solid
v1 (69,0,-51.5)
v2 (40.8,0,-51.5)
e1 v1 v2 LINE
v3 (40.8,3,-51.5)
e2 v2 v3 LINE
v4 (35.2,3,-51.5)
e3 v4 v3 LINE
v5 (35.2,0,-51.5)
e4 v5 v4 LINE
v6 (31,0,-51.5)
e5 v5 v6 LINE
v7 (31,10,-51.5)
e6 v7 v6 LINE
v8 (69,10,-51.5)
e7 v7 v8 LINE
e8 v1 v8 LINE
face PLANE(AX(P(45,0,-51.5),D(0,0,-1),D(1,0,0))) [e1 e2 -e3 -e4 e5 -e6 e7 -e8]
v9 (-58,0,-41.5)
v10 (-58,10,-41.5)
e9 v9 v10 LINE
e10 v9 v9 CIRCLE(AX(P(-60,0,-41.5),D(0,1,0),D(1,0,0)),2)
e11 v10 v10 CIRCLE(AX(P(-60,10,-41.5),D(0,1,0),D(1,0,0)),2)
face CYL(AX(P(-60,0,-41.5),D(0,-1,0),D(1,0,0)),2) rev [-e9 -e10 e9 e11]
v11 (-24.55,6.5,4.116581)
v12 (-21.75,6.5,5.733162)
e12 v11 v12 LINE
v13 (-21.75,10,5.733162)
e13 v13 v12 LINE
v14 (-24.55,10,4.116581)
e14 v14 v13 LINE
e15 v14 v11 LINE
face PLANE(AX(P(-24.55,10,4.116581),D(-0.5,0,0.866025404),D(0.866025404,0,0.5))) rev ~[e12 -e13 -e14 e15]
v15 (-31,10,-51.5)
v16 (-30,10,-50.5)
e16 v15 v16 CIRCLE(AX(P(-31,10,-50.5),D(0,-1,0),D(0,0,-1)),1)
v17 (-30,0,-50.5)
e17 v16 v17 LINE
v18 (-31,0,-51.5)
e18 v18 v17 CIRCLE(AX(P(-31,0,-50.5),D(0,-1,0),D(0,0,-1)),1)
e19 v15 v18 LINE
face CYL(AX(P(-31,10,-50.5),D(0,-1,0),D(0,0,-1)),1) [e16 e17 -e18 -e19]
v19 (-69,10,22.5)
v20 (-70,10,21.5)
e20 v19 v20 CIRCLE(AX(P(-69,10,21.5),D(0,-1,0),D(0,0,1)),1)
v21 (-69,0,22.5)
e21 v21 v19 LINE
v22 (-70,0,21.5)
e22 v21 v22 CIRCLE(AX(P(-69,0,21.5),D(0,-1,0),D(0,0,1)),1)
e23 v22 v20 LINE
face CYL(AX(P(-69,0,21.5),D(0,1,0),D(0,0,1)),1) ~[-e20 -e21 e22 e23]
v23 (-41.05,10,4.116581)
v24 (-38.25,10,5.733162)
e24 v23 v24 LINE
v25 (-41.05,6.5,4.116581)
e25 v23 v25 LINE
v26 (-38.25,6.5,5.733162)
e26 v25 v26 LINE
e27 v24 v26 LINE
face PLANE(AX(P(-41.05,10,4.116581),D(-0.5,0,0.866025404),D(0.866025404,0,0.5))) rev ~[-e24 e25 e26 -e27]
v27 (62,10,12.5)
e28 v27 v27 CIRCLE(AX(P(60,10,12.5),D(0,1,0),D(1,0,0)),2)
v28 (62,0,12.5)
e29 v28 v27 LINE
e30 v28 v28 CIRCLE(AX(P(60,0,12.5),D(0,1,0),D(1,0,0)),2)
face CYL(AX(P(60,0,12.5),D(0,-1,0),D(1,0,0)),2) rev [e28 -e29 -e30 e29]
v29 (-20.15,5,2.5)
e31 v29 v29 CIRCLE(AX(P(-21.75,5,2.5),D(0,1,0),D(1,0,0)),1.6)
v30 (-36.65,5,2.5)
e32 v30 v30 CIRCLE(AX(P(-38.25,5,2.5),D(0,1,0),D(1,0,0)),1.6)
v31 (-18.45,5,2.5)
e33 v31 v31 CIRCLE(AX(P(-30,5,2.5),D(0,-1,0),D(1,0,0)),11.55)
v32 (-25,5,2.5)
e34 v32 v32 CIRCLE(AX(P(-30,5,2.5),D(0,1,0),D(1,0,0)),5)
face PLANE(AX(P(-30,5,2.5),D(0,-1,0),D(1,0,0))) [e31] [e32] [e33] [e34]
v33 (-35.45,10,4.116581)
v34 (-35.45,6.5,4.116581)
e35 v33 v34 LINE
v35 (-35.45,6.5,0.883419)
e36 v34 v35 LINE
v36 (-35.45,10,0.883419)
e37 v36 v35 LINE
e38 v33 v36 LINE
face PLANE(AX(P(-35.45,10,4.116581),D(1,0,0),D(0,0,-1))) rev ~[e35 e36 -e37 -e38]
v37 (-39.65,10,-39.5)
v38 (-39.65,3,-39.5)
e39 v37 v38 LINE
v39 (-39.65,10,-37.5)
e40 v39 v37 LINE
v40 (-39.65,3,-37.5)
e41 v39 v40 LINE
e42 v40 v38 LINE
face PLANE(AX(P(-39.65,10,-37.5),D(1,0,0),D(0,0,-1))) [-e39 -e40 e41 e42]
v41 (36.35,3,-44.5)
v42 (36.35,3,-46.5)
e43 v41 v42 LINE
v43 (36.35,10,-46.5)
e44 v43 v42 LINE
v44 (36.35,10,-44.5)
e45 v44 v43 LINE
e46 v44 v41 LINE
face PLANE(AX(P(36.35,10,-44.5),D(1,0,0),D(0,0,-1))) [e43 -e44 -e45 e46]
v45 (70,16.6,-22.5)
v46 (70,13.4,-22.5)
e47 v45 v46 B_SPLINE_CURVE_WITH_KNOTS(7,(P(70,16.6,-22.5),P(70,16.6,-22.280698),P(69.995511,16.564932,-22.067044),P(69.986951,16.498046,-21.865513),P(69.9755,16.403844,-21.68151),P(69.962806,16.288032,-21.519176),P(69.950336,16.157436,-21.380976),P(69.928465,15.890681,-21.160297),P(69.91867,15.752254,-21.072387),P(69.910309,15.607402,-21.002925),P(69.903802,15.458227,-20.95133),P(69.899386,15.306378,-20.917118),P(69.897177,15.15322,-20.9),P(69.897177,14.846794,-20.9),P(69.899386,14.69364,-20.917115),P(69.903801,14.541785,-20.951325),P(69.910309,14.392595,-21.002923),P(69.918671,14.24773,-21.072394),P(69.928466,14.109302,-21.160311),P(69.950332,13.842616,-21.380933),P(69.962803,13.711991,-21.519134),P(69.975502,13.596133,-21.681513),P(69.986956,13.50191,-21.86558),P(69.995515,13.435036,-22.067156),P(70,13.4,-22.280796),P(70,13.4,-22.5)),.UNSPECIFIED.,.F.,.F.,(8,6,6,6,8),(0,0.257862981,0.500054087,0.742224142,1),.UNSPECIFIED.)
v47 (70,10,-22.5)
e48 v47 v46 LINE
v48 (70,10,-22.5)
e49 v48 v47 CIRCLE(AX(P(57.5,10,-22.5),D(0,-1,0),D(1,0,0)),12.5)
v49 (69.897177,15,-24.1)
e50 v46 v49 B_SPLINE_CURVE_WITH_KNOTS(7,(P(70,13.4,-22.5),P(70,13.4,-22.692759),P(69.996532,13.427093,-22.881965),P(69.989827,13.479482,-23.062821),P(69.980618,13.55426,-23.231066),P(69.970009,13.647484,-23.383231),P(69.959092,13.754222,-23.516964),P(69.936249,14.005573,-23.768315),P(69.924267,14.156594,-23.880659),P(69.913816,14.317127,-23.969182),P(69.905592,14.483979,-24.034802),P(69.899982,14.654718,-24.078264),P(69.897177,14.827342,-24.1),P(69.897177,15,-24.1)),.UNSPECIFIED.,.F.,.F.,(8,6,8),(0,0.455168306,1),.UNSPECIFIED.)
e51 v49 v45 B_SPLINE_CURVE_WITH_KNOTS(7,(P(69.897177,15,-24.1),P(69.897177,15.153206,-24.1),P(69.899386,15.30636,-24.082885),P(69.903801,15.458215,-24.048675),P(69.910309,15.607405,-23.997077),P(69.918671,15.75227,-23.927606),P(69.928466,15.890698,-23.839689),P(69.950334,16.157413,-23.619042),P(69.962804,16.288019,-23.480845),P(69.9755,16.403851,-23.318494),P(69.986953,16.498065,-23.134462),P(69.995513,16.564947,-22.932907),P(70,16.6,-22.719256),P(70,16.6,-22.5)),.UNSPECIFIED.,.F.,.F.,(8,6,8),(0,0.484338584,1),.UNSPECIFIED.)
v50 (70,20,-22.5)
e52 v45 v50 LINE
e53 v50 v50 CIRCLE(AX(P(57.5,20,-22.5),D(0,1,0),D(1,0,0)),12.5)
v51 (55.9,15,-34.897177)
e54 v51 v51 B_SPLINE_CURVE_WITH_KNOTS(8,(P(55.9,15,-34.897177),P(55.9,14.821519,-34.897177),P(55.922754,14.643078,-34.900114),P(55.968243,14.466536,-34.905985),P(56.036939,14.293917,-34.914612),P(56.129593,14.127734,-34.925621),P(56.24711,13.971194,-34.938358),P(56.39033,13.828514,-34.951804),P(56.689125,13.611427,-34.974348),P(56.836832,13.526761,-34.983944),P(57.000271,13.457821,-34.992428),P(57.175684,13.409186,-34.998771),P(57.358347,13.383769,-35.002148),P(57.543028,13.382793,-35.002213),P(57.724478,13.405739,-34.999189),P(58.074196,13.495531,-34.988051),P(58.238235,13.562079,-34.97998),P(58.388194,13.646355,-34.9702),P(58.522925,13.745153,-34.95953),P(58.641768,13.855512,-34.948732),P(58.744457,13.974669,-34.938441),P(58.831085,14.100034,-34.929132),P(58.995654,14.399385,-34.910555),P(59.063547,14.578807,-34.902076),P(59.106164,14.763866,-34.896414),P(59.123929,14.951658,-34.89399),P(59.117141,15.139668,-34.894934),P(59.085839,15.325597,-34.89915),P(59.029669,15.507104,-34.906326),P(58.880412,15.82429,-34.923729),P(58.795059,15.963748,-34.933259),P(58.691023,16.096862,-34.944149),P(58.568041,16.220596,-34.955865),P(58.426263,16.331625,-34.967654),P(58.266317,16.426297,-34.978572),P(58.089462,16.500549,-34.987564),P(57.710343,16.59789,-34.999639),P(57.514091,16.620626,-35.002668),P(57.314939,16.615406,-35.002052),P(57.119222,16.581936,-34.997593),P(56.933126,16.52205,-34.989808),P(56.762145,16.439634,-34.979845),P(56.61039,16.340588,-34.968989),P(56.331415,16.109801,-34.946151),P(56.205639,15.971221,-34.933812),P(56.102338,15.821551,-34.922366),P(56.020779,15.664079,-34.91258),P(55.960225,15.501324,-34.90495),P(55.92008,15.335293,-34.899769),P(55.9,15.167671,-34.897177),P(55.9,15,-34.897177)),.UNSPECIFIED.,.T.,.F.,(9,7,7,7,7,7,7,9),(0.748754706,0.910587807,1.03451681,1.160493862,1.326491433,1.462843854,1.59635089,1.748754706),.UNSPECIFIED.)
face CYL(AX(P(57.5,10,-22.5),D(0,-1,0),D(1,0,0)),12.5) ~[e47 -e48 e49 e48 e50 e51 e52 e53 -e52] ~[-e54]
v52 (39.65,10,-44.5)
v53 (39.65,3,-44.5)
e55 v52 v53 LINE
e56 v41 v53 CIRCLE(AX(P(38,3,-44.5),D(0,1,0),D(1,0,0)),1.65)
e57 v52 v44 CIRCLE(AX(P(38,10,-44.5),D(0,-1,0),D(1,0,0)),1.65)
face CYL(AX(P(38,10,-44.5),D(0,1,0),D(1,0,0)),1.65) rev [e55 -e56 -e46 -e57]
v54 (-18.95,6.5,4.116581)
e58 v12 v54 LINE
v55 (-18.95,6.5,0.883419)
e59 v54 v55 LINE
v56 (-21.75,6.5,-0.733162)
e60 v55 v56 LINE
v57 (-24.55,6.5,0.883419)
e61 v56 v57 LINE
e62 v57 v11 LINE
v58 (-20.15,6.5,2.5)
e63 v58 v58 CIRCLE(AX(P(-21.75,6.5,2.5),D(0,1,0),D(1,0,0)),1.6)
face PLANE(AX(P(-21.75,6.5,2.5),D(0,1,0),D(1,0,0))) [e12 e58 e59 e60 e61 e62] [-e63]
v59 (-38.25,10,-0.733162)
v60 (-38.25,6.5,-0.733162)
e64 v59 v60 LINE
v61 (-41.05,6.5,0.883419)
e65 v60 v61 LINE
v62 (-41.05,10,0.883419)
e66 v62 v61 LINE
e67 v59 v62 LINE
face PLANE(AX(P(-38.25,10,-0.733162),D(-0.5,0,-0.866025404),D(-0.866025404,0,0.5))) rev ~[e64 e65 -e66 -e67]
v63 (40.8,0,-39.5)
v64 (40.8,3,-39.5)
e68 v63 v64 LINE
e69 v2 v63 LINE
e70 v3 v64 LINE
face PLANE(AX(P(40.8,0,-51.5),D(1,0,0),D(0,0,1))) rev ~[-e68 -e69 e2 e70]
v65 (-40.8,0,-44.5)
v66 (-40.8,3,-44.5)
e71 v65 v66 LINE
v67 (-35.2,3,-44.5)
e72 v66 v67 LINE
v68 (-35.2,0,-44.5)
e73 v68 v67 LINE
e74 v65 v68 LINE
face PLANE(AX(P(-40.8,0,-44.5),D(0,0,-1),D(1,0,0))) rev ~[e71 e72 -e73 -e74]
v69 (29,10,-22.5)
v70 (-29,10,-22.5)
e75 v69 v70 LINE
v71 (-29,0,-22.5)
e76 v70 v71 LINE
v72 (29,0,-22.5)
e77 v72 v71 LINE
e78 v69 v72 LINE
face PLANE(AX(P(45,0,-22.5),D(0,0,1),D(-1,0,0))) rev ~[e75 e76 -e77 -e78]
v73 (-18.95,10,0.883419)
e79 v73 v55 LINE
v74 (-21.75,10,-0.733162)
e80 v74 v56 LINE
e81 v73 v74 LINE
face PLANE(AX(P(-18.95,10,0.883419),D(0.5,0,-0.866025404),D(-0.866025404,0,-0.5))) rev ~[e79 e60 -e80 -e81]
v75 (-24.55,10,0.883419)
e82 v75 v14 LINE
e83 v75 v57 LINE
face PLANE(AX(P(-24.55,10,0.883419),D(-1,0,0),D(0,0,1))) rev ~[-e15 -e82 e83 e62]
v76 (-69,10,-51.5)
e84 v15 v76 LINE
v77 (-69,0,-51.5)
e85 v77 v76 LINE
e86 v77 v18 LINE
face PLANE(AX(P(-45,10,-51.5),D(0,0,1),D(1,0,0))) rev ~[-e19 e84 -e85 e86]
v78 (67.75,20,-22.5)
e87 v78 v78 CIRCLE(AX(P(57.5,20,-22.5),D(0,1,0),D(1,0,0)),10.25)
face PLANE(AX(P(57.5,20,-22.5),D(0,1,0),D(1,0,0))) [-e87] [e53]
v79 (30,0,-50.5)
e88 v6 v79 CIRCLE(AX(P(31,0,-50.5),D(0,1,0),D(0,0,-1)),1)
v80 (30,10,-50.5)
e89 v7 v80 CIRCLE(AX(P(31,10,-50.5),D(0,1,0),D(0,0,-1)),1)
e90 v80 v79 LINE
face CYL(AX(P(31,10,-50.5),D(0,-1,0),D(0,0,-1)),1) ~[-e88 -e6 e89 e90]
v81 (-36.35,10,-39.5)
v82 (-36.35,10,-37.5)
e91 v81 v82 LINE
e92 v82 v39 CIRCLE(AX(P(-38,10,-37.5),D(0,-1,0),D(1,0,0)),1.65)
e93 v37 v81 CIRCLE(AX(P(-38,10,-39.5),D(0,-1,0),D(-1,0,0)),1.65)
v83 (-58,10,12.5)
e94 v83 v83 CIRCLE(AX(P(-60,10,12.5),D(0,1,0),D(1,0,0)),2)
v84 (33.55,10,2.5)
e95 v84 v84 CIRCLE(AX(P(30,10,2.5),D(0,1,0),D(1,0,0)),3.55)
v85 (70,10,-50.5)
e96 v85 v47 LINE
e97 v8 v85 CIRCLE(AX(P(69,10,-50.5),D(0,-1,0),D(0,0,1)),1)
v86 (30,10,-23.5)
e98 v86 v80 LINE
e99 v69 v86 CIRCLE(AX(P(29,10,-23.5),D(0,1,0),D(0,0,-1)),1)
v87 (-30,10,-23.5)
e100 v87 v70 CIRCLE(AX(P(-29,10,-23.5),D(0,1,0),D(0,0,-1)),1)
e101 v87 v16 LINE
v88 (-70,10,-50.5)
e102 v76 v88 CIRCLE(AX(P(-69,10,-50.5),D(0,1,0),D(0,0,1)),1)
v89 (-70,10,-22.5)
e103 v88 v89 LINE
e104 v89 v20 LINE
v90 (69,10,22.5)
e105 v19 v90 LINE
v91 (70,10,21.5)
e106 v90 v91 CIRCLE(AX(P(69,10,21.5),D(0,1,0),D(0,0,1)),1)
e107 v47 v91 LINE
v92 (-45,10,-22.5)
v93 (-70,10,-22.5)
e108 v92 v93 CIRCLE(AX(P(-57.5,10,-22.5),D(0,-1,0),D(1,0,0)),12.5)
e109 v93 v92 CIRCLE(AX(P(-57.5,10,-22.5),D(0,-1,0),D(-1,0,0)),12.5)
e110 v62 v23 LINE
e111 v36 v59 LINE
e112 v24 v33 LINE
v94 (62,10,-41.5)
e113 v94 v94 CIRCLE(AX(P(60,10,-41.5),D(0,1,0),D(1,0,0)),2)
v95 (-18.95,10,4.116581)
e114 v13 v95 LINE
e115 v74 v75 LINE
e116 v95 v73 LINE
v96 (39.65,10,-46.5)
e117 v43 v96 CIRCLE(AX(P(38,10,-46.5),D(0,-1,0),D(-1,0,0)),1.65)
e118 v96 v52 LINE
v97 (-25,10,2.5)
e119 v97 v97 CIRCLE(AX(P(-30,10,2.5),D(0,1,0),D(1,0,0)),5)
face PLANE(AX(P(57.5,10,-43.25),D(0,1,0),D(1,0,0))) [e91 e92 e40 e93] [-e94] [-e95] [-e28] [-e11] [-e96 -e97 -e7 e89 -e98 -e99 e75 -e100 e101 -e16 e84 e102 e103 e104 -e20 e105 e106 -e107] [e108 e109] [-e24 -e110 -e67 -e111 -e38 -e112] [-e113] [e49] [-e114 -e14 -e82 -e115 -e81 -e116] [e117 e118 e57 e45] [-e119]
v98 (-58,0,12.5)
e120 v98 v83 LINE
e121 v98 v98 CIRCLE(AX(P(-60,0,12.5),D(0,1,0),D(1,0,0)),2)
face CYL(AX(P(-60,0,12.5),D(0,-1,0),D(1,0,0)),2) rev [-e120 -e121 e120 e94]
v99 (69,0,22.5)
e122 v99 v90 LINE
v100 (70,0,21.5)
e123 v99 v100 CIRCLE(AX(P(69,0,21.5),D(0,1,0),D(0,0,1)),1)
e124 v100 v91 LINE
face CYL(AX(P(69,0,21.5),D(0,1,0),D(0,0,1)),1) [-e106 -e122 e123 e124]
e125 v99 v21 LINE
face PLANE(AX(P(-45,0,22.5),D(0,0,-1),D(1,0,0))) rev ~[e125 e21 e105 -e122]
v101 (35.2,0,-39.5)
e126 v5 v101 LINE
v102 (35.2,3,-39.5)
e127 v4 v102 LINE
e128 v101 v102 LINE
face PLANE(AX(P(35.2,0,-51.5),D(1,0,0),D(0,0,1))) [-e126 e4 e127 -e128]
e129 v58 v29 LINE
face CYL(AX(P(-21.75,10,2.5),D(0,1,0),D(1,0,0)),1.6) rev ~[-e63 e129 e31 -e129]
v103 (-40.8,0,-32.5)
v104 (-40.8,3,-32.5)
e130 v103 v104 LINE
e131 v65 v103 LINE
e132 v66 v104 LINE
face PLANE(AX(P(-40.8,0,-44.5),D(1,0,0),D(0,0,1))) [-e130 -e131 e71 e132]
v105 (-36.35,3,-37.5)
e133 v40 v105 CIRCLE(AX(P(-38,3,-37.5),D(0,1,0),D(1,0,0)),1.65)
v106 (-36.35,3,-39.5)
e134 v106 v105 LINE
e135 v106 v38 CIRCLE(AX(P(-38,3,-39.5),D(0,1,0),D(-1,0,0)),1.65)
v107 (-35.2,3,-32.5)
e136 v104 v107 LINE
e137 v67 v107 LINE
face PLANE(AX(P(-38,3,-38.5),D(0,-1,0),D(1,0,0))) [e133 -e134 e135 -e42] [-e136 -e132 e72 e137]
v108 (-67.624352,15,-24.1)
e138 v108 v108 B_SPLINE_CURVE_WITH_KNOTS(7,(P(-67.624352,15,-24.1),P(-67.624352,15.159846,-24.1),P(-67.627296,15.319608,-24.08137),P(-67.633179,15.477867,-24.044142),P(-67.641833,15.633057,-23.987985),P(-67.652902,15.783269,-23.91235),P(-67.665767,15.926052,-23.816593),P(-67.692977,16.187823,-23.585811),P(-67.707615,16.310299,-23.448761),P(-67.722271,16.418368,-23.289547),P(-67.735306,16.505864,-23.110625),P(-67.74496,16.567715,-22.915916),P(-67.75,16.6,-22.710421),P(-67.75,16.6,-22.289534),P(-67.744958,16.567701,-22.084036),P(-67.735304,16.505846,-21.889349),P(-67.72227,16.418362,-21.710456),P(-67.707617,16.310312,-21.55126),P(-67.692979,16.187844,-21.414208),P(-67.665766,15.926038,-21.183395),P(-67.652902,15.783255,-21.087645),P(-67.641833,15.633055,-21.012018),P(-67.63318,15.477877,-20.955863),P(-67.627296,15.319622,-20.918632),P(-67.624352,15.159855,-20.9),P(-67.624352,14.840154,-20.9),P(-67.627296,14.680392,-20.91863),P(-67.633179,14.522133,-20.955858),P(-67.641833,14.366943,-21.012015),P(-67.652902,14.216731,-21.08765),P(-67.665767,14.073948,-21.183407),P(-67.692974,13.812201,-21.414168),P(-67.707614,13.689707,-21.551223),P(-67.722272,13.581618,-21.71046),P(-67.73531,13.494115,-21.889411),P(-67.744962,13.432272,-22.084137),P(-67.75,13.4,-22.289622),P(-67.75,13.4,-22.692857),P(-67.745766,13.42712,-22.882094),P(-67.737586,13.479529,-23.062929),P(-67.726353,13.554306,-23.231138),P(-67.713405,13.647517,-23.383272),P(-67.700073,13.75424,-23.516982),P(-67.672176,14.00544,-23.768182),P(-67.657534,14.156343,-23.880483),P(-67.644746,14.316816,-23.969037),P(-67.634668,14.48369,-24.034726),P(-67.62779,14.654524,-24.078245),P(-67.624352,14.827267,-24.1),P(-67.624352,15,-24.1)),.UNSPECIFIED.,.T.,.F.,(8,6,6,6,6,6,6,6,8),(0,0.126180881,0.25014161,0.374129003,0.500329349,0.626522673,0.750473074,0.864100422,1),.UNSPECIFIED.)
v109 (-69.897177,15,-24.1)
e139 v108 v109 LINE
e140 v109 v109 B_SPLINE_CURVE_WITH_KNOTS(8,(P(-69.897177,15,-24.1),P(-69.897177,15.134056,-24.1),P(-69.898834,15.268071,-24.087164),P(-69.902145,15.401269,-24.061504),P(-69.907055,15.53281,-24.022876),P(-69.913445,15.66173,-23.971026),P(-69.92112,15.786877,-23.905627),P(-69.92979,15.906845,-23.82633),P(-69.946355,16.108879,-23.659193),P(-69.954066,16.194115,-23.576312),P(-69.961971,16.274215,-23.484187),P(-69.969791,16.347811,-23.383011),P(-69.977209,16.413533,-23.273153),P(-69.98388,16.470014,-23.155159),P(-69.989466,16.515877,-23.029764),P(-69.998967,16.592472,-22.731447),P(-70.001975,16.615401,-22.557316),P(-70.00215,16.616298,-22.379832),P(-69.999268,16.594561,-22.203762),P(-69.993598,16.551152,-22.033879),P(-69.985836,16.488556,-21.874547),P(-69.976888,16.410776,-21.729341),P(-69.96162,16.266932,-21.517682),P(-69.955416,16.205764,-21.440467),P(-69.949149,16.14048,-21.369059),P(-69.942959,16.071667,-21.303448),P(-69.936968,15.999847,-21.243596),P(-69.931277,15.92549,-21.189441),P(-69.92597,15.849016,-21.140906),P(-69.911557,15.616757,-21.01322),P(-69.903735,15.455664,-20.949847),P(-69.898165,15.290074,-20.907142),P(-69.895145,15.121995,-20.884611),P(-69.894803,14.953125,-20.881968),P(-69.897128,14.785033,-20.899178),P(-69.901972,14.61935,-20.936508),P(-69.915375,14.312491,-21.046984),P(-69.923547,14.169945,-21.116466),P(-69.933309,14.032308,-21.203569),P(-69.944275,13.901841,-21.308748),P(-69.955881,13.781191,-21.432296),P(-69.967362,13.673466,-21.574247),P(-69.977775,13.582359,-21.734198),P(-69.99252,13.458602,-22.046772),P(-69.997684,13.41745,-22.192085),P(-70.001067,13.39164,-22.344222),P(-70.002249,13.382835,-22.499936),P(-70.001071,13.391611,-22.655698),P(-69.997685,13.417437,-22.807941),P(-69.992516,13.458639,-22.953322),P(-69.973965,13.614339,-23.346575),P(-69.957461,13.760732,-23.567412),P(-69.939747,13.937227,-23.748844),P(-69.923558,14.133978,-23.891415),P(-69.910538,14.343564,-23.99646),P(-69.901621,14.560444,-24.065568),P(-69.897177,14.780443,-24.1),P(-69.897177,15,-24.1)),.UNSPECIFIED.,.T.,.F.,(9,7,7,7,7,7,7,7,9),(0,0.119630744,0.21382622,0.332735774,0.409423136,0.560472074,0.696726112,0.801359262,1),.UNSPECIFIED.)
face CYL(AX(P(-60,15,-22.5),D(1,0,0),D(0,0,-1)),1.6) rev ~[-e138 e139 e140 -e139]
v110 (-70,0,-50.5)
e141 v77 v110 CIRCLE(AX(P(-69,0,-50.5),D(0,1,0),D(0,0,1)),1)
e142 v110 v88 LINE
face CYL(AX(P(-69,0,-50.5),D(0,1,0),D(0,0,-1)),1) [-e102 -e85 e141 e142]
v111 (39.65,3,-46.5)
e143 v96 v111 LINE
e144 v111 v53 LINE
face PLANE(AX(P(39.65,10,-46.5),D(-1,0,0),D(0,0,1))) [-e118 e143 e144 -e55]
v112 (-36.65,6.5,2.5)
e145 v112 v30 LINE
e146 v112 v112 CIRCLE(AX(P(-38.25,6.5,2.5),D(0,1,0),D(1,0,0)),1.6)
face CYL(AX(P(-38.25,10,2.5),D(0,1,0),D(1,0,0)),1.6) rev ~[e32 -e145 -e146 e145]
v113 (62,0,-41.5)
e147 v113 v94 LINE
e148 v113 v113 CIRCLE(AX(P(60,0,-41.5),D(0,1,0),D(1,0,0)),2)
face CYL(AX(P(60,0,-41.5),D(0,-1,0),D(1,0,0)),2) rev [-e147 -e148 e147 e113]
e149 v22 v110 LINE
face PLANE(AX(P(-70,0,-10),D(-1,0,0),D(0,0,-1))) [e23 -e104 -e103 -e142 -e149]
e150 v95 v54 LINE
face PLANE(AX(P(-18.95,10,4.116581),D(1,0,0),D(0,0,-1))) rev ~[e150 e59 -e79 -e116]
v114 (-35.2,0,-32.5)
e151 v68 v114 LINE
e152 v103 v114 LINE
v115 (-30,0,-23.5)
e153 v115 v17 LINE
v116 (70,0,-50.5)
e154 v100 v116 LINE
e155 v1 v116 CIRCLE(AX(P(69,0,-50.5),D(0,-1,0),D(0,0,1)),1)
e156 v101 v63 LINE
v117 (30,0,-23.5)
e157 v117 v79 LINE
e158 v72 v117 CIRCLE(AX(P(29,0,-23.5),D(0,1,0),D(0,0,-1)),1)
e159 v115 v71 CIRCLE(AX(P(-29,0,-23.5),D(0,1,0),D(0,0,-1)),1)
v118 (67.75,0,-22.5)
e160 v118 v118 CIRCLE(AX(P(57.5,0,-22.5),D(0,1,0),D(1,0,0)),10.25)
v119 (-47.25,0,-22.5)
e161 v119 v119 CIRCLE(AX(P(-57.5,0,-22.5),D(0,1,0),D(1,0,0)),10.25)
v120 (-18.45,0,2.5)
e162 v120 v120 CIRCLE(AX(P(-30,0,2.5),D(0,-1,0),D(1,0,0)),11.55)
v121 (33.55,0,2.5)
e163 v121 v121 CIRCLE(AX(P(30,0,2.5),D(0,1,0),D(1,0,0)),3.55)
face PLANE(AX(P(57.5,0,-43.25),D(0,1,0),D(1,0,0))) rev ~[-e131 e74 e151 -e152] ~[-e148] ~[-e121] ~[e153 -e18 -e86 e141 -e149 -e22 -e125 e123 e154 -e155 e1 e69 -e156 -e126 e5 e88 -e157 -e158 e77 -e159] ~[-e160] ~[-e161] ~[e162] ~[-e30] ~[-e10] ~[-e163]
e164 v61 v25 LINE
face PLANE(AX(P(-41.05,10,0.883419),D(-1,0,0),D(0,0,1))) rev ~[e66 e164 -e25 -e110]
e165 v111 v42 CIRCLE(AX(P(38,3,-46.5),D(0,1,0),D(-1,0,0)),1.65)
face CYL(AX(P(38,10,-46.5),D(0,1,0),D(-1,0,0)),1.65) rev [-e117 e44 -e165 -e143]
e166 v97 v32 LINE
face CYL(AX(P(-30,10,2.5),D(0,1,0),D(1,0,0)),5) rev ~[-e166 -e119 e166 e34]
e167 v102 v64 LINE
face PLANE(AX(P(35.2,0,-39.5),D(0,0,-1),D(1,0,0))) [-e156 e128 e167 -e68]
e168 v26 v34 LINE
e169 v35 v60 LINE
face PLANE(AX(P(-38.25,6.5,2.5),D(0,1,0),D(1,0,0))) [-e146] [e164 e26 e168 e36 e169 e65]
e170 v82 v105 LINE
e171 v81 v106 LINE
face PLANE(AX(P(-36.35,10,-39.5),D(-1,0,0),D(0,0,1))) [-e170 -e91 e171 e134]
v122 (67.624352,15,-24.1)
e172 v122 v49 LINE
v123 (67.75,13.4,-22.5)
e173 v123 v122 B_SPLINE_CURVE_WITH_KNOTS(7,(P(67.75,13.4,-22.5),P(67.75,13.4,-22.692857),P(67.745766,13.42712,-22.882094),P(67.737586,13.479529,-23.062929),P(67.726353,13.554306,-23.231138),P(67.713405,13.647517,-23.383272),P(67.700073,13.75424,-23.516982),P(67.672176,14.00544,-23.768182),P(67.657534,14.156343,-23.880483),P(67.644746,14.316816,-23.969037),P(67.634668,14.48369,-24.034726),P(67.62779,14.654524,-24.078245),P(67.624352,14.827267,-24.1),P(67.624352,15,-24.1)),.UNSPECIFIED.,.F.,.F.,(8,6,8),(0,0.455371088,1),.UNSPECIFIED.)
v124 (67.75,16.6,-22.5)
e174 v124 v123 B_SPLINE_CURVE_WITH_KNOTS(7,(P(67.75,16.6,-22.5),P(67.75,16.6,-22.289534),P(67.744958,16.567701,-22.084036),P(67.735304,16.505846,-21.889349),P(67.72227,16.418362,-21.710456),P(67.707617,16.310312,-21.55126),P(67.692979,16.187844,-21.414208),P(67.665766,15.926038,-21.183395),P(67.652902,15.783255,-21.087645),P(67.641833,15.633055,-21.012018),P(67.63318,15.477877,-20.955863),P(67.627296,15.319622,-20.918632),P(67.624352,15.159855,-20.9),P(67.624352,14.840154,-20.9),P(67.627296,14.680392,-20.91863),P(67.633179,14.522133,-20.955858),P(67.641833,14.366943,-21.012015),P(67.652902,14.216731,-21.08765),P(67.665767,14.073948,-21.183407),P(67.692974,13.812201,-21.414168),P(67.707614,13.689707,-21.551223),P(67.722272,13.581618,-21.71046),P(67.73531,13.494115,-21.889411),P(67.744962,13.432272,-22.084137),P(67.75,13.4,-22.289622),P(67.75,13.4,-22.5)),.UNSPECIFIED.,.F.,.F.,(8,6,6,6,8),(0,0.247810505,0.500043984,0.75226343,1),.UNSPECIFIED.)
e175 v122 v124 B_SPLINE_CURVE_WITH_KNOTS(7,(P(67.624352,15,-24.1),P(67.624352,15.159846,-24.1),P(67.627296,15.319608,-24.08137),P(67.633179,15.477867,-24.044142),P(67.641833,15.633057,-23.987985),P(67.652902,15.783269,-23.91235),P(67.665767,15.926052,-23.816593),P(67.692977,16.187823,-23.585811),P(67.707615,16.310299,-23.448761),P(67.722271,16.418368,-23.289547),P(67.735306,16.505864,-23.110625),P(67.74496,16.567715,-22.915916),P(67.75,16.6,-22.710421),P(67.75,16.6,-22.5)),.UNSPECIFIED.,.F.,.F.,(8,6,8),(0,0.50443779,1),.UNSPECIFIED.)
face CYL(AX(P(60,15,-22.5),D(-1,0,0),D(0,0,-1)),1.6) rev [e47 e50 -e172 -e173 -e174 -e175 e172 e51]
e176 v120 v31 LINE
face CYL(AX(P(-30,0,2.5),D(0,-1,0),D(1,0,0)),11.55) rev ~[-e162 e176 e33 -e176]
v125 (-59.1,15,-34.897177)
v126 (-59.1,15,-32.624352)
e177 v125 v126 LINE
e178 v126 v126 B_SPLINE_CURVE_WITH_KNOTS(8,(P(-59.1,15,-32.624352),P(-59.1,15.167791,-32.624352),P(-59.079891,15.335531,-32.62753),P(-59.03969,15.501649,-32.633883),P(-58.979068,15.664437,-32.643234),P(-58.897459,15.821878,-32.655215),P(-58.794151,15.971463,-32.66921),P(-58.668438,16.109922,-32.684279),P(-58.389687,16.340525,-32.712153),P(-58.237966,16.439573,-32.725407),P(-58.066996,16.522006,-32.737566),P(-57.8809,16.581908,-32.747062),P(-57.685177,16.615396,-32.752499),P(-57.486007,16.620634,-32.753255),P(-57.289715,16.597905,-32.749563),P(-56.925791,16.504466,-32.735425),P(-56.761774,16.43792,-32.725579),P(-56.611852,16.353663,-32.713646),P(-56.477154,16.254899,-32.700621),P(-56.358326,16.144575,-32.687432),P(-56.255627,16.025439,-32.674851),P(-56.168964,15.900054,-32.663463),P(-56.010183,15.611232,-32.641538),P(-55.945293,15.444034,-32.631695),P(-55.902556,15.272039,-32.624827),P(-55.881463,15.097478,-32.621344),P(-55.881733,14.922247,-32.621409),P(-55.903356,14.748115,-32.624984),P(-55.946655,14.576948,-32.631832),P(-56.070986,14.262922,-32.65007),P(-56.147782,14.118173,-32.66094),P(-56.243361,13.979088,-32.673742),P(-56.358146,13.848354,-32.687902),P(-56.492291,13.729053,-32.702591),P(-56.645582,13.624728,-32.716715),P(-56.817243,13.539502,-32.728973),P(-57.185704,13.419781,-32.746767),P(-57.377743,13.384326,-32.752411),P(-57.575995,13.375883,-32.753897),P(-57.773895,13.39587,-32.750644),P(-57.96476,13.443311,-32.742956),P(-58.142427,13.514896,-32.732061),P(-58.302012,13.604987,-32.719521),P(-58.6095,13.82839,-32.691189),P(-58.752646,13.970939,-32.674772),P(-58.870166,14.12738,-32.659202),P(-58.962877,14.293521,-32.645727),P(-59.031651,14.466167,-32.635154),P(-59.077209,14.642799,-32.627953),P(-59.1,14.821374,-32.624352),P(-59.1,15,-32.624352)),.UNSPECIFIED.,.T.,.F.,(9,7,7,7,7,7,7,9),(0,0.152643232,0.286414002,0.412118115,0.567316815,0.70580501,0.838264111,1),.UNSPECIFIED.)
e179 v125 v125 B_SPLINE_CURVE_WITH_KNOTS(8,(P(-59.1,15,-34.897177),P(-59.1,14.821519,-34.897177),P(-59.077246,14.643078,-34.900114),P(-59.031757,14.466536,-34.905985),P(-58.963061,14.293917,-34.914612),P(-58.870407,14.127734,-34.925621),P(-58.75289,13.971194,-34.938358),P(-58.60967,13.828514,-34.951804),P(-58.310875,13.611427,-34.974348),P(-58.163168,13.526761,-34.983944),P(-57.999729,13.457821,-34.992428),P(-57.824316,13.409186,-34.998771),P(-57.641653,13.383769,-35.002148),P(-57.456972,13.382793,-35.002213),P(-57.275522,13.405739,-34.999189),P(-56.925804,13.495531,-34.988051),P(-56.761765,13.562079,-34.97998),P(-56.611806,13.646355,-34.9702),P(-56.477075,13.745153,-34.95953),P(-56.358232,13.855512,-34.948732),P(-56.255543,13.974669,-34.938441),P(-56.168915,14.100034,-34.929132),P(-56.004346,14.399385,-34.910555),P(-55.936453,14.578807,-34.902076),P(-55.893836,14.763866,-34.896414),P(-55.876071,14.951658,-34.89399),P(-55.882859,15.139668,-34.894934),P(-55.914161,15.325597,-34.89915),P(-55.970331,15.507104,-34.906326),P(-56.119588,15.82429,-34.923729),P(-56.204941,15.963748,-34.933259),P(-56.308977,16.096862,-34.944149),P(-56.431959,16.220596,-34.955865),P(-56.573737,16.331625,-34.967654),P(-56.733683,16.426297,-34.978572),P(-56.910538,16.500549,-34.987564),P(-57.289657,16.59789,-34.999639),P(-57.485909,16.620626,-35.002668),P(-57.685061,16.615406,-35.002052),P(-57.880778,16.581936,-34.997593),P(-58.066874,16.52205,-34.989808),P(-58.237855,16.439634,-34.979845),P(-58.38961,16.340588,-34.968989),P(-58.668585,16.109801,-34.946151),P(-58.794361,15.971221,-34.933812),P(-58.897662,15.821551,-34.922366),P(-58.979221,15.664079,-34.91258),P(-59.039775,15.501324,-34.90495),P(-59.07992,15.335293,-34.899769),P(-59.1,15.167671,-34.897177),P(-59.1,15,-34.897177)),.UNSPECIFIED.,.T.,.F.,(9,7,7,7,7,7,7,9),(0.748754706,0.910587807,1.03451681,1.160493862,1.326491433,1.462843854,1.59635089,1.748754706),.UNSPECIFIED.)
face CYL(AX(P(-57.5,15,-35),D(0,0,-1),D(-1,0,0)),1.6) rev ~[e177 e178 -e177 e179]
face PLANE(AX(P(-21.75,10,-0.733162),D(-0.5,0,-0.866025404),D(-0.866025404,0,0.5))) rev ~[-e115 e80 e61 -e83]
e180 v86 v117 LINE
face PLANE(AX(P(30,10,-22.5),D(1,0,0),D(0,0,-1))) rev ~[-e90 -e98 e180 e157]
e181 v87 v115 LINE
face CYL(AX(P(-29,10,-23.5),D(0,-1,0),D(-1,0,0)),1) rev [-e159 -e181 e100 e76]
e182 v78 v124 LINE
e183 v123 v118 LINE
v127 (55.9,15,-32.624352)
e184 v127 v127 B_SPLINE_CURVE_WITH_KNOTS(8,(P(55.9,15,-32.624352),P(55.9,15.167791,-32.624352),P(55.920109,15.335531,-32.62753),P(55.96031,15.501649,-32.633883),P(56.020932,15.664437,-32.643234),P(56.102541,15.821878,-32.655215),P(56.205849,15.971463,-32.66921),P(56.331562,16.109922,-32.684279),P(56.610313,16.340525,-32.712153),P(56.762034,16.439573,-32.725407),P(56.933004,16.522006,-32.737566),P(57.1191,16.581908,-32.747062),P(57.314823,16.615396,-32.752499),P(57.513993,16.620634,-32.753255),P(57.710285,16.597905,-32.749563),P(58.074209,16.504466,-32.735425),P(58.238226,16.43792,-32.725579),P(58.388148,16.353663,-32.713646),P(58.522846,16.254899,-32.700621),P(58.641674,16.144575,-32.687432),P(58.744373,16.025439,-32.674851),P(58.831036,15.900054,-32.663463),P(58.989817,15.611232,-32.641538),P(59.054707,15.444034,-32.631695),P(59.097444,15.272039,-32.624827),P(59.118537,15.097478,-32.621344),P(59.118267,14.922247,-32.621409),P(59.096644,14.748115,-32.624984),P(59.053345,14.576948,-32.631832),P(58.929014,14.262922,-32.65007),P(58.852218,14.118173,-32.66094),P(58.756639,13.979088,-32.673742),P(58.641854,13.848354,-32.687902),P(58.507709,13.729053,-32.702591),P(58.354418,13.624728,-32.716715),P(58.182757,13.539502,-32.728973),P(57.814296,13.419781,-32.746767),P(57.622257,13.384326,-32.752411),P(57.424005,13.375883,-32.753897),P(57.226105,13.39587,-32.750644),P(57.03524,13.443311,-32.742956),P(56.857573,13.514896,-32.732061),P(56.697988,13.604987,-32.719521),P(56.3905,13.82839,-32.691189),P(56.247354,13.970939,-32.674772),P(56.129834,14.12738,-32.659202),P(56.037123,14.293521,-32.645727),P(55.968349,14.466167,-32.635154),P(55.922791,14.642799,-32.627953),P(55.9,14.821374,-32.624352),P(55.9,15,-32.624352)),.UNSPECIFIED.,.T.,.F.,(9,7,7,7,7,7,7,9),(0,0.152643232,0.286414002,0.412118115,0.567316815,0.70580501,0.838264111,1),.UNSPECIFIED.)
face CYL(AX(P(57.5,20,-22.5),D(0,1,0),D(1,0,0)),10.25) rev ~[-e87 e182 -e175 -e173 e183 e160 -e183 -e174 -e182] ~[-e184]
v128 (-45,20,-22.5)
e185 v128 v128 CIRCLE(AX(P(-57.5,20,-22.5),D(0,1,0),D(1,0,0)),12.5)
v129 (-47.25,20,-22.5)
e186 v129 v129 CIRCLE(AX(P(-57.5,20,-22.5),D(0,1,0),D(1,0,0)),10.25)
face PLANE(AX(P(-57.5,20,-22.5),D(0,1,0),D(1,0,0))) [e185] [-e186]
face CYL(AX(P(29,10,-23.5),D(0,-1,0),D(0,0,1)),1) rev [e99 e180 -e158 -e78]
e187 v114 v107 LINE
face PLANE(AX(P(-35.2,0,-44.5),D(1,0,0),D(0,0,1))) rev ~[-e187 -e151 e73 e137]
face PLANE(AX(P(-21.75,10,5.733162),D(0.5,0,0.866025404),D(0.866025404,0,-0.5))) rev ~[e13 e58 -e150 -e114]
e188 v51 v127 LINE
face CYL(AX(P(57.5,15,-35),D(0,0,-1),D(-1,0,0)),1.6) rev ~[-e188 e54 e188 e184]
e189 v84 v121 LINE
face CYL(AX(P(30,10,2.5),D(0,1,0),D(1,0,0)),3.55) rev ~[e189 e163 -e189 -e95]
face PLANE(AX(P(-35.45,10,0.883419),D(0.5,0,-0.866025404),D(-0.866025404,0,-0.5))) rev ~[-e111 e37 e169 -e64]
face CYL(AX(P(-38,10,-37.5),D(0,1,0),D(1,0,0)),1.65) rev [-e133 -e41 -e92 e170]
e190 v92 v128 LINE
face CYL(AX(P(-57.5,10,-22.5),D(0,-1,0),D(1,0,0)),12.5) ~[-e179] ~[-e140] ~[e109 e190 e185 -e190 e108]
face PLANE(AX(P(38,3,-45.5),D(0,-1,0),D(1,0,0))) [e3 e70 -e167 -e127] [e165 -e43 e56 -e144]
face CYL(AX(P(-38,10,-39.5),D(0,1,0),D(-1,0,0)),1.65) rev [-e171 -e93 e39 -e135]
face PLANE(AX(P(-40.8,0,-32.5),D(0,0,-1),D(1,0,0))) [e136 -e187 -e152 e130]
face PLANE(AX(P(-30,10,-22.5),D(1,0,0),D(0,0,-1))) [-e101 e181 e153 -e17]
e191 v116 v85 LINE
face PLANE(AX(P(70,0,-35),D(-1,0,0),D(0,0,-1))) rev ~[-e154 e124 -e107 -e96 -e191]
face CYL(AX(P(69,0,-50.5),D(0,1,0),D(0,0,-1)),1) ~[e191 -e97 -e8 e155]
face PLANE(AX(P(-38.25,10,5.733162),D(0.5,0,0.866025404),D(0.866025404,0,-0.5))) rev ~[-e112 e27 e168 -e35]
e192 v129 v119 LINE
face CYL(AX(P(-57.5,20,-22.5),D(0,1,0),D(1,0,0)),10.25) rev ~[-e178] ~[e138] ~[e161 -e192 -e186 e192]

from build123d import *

# Parameters (mm, degrees)
SALIENTE_EXTRUIR1_DEPTH = 10
CROQUIS3_R              = 5
CROQUIS3_R_2            = 3.55
CROQUIS3_R_3            = 1.6
CORTAR_EXTRUIR1_DEPTH   = 11
CORTAR_EXTRUIR2_DEPTH   = 3.5
CROQUIS5_R              = 11.55
CORTAR_EXTRUIR3_DEPTH   = 5
CROQUIS8_W              = 15
CROQUIS8_H              = 29
SALIENTE_EXTRUIR2_DEPTH = 10
CROQUIS9_W              = 25
CROQUIS9_H              = 25
SALIENTE_EXTRUIR4_DEPTH = 10
CROQUIS13_R             = 12.5
SALIENTE_EXTRUIR5_DEPTH = 10
CROQUIS15_R             = 10.25
CORTAR_EXTRUIR5_DEPTH   = 20
CROQUIS16_R             = 1.6
CORTAR_EXTRUIR6_DEPTH   = 10
CROQUIS17_W             = 25
CROQUIS17_H             = 16.5
CROQUIS17_R             = 2
CROQUIS17_H_2           = 32.5
SALIENTE_EXTRUIR6_DEPTH = 10
REDONDEO1_R             = 1
CROQUIS18_W             = 5.6
CROQUIS18_H             = 12
CORTAR_EXTRUIR7_DEPTH   = 3
CORTAR_EXTRUIR10_START  = 60
CROQUIS19_R             = 1.6
CORTAR_EXTRUIR10_DEPTH  = 11.0000001


with BuildPart() as part:
    # Croquis1 → Saliente-Extruir1 (new body)
    with BuildSketch(Plane(origin=(0, 0, 0), x_dir=(1, 0, 0), z_dir=(0, 1, 0))):
        Polygon((-45, -22.5), (45, -22.5), (45, 22.5), (0, 22.5), (-45, 22.5), align=None)
    extrude(amount=SALIENTE_EXTRUIR1_DEPTH)

    # Croquis3 → Cortar-Extruir1 (cut, through all)
    with BuildSketch(Plane(origin=(0, 10, 0), x_dir=(1, 0, 0), z_dir=(0, 1, 0))):
        with Locations((-30, -2.5)):
            Circle(CROQUIS3_R)
        with Locations((30, -2.5)):
            Circle(CROQUIS3_R_2)
        with Locations((-38.25, -2.5)):
            Circle(CROQUIS3_R_3)
        with Locations((-21.75, -2.5)):
            Circle(CROQUIS3_R_3)
    extrude(amount=-CORTAR_EXTRUIR1_DEPTH, mode=Mode.SUBTRACT)

    # Croquis4 → Cortar-Extruir2 (cut)
    with BuildSketch(Plane(origin=(0, 10, 0), x_dir=(1, 0, 0), z_dir=(0, 1, 0))):
        Polygon((-38.25, 0.733161507), (-41.05, -0.883419246), (-41.05, -4.116580754), (-38.25, -5.733161507), (-35.45, -4.116580754), (-35.45, -0.883419246), align=None)
        Polygon((-21.75, 0.733161507), (-24.55, -0.883419246), (-24.55, -4.116580754), (-21.75, -5.733161507), (-18.95, -4.116580754), (-18.95, -0.883419246), align=None)
    extrude(amount=-CORTAR_EXTRUIR2_DEPTH, mode=Mode.SUBTRACT)

    # Croquis5 → Cortar-Extruir3 (cut)
    with BuildSketch(Plane.XZ):
        with Locations((-30, 2.5)):
            Circle(CROQUIS5_R)
    extrude(amount=-CORTAR_EXTRUIR3_DEPTH, mode=Mode.SUBTRACT)

    # Croquis8 → Saliente-Extruir2 (add)
    with BuildSketch(Plane(origin=(0, 10, 0), x_dir=(1, 0, 0), z_dir=(0, 1, 0))):
        with Locations((-37.5, 37)):
            Rectangle(CROQUIS8_W, CROQUIS8_H)
        with BuildLine():
            Line((-36.35, 39.5), (-36.35, 37.5))
            ThreePointArc((-36.35, 37.5), (-38, 35.85), (-39.65, 37.5))
            Line((-39.65, 37.5), (-39.65, 39.5))
            ThreePointArc((-39.65, 39.5), (-38, 41.15), (-36.35, 39.5))
        make_face(mode=Mode.SUBTRACT)
        with Locations((37.5, 37)):
            Rectangle(CROQUIS8_W, CROQUIS8_H)
        with BuildLine():
            Line((39.65, 46.5), (39.65, 44.5))
            ThreePointArc((39.65, 44.5), (38, 42.85), (36.35, 44.5))
            Line((36.35, 44.5), (36.35, 46.5))
            ThreePointArc((36.35, 46.5), (38, 48.15), (39.65, 46.5))
        make_face(mode=Mode.SUBTRACT)
    extrude(amount=-SALIENTE_EXTRUIR2_DEPTH)

    # Croquis9 → Saliente-Extruir4 (add)
    with BuildSketch(Plane(origin=(0, 0, 0), x_dir=(1, 0, 0), z_dir=(0, 1, 0))):
        with Locations((-57.5, 22.5)):
            Rectangle(CROQUIS9_W, CROQUIS9_H)
        with Locations((57.5, 22.5)):
            Rectangle(CROQUIS9_W, CROQUIS9_H)
    extrude(amount=SALIENTE_EXTRUIR4_DEPTH)

    # Croquis13 → Saliente-Extruir5 (add)
    with BuildSketch(Plane(origin=(0, 10, 0), x_dir=(1, 0, 0), z_dir=(0, 1, 0))):
        with Locations((-57.5, 22.5)):
            Circle(CROQUIS13_R)
        with Locations((57.5, 22.5)):
            Circle(CROQUIS13_R)
    extrude(amount=SALIENTE_EXTRUIR5_DEPTH)

    # Croquis15 → Cortar-Extruir5 (cut)
    with BuildSketch(Plane(origin=(0, 20, 0), x_dir=(1, 0, 0), z_dir=(0, 1, 0))):
        with Locations((-57.5, 22.5)):
            Circle(CROQUIS15_R)
        with Locations((57.5, 22.5)):
            Circle(CROQUIS15_R)
    extrude(amount=-CORTAR_EXTRUIR5_DEPTH, mode=Mode.SUBTRACT)

    # Croquis16 → Cortar-Extruir6 (cut)
    with BuildSketch(Plane(origin=(0, 0, -35), x_dir=(-1, 0, 0), z_dir=(0, 0, -1))):
        with Locations((-57.5, 15)):
            Circle(CROQUIS16_R)
        with Locations((57.5, 15)):
            Circle(CROQUIS16_R)
    extrude(amount=-CORTAR_EXTRUIR6_DEPTH, mode=Mode.SUBTRACT)

    # Croquis17 → Saliente-Extruir6 (add)
    with BuildSketch(Plane(origin=(0, 0, 0), x_dir=(1, 0, 0), z_dir=(0, 1, 0))):
        with Locations((57.5, 43.25)):
            Rectangle(CROQUIS17_W, CROQUIS17_H)
        with Locations((60, 41.5)):
            Circle(CROQUIS17_R, mode=Mode.SUBTRACT)
        with Locations((57.5, -6.25)):
            Rectangle(CROQUIS17_W, CROQUIS17_H_2)
        with Locations((60, -12.5)):
            Circle(CROQUIS17_R, mode=Mode.SUBTRACT)
        with Locations((-57.5, 43.25)):
            Rectangle(CROQUIS17_W, CROQUIS17_H)
        with Locations((-60, 41.5)):
            Circle(CROQUIS17_R, mode=Mode.SUBTRACT)
        with Locations((-57.5, -6.25)):
            Rectangle(CROQUIS17_W, CROQUIS17_H_2)
        with Locations((-60, -12.5)):
            Circle(CROQUIS17_R, mode=Mode.SUBTRACT)
    extrude(amount=SALIENTE_EXTRUIR6_DEPTH)

    # Redondeo1
    redondeo1_edges = [part.edges().sort_by_distance(p)[0] for p in [
        (-30, 5, -22.5),
        (-30, 5, -51.5),
        (-70, 5, -51.5),
        (-70, 5, 22.5),
        (70, 5, -51.5),
        (70, 5, 22.5),
        (30, 5, -22.5),
        (30, 5, -51.5),
    ]]
    fillet(redondeo1_edges, radius=REDONDEO1_R)

    # Croquis18 → Cortar-Extruir7 (cut)
    with BuildSketch(Plane.XZ):
        with Locations((-38, -38.5)):
            Rectangle(CROQUIS18_W, CROQUIS18_H)
        with Locations((38, -45.5)):
            Rectangle(CROQUIS18_W, CROQUIS18_H)
    extrude(amount=-CORTAR_EXTRUIR7_DEPTH, mode=Mode.SUBTRACT)

    # Croquis19 → Cortar-Extruir10 (cut, through all)
    with BuildSketch(Plane(origin=(0, 0, 0), x_dir=(0, 0, -1), z_dir=(1, 0, 0)).offset(CORTAR_EXTRUIR10_START)):
        with Locations((22.5, 15)):
            Circle(CROQUIS19_R)
    cortar_extruir10 = extrude(amount=CORTAR_EXTRUIR10_DEPTH, mode=Mode.SUBTRACT)

    # Simetría1: Cortar-Extruir10 across plane
    add(cortar_extruir10.mirror(Plane(origin=(0, 0, 0), x_dir=(0, 0, 1), z_dir=(1, 0, 0))), mode=Mode.SUBTRACT)


solid = part.part
